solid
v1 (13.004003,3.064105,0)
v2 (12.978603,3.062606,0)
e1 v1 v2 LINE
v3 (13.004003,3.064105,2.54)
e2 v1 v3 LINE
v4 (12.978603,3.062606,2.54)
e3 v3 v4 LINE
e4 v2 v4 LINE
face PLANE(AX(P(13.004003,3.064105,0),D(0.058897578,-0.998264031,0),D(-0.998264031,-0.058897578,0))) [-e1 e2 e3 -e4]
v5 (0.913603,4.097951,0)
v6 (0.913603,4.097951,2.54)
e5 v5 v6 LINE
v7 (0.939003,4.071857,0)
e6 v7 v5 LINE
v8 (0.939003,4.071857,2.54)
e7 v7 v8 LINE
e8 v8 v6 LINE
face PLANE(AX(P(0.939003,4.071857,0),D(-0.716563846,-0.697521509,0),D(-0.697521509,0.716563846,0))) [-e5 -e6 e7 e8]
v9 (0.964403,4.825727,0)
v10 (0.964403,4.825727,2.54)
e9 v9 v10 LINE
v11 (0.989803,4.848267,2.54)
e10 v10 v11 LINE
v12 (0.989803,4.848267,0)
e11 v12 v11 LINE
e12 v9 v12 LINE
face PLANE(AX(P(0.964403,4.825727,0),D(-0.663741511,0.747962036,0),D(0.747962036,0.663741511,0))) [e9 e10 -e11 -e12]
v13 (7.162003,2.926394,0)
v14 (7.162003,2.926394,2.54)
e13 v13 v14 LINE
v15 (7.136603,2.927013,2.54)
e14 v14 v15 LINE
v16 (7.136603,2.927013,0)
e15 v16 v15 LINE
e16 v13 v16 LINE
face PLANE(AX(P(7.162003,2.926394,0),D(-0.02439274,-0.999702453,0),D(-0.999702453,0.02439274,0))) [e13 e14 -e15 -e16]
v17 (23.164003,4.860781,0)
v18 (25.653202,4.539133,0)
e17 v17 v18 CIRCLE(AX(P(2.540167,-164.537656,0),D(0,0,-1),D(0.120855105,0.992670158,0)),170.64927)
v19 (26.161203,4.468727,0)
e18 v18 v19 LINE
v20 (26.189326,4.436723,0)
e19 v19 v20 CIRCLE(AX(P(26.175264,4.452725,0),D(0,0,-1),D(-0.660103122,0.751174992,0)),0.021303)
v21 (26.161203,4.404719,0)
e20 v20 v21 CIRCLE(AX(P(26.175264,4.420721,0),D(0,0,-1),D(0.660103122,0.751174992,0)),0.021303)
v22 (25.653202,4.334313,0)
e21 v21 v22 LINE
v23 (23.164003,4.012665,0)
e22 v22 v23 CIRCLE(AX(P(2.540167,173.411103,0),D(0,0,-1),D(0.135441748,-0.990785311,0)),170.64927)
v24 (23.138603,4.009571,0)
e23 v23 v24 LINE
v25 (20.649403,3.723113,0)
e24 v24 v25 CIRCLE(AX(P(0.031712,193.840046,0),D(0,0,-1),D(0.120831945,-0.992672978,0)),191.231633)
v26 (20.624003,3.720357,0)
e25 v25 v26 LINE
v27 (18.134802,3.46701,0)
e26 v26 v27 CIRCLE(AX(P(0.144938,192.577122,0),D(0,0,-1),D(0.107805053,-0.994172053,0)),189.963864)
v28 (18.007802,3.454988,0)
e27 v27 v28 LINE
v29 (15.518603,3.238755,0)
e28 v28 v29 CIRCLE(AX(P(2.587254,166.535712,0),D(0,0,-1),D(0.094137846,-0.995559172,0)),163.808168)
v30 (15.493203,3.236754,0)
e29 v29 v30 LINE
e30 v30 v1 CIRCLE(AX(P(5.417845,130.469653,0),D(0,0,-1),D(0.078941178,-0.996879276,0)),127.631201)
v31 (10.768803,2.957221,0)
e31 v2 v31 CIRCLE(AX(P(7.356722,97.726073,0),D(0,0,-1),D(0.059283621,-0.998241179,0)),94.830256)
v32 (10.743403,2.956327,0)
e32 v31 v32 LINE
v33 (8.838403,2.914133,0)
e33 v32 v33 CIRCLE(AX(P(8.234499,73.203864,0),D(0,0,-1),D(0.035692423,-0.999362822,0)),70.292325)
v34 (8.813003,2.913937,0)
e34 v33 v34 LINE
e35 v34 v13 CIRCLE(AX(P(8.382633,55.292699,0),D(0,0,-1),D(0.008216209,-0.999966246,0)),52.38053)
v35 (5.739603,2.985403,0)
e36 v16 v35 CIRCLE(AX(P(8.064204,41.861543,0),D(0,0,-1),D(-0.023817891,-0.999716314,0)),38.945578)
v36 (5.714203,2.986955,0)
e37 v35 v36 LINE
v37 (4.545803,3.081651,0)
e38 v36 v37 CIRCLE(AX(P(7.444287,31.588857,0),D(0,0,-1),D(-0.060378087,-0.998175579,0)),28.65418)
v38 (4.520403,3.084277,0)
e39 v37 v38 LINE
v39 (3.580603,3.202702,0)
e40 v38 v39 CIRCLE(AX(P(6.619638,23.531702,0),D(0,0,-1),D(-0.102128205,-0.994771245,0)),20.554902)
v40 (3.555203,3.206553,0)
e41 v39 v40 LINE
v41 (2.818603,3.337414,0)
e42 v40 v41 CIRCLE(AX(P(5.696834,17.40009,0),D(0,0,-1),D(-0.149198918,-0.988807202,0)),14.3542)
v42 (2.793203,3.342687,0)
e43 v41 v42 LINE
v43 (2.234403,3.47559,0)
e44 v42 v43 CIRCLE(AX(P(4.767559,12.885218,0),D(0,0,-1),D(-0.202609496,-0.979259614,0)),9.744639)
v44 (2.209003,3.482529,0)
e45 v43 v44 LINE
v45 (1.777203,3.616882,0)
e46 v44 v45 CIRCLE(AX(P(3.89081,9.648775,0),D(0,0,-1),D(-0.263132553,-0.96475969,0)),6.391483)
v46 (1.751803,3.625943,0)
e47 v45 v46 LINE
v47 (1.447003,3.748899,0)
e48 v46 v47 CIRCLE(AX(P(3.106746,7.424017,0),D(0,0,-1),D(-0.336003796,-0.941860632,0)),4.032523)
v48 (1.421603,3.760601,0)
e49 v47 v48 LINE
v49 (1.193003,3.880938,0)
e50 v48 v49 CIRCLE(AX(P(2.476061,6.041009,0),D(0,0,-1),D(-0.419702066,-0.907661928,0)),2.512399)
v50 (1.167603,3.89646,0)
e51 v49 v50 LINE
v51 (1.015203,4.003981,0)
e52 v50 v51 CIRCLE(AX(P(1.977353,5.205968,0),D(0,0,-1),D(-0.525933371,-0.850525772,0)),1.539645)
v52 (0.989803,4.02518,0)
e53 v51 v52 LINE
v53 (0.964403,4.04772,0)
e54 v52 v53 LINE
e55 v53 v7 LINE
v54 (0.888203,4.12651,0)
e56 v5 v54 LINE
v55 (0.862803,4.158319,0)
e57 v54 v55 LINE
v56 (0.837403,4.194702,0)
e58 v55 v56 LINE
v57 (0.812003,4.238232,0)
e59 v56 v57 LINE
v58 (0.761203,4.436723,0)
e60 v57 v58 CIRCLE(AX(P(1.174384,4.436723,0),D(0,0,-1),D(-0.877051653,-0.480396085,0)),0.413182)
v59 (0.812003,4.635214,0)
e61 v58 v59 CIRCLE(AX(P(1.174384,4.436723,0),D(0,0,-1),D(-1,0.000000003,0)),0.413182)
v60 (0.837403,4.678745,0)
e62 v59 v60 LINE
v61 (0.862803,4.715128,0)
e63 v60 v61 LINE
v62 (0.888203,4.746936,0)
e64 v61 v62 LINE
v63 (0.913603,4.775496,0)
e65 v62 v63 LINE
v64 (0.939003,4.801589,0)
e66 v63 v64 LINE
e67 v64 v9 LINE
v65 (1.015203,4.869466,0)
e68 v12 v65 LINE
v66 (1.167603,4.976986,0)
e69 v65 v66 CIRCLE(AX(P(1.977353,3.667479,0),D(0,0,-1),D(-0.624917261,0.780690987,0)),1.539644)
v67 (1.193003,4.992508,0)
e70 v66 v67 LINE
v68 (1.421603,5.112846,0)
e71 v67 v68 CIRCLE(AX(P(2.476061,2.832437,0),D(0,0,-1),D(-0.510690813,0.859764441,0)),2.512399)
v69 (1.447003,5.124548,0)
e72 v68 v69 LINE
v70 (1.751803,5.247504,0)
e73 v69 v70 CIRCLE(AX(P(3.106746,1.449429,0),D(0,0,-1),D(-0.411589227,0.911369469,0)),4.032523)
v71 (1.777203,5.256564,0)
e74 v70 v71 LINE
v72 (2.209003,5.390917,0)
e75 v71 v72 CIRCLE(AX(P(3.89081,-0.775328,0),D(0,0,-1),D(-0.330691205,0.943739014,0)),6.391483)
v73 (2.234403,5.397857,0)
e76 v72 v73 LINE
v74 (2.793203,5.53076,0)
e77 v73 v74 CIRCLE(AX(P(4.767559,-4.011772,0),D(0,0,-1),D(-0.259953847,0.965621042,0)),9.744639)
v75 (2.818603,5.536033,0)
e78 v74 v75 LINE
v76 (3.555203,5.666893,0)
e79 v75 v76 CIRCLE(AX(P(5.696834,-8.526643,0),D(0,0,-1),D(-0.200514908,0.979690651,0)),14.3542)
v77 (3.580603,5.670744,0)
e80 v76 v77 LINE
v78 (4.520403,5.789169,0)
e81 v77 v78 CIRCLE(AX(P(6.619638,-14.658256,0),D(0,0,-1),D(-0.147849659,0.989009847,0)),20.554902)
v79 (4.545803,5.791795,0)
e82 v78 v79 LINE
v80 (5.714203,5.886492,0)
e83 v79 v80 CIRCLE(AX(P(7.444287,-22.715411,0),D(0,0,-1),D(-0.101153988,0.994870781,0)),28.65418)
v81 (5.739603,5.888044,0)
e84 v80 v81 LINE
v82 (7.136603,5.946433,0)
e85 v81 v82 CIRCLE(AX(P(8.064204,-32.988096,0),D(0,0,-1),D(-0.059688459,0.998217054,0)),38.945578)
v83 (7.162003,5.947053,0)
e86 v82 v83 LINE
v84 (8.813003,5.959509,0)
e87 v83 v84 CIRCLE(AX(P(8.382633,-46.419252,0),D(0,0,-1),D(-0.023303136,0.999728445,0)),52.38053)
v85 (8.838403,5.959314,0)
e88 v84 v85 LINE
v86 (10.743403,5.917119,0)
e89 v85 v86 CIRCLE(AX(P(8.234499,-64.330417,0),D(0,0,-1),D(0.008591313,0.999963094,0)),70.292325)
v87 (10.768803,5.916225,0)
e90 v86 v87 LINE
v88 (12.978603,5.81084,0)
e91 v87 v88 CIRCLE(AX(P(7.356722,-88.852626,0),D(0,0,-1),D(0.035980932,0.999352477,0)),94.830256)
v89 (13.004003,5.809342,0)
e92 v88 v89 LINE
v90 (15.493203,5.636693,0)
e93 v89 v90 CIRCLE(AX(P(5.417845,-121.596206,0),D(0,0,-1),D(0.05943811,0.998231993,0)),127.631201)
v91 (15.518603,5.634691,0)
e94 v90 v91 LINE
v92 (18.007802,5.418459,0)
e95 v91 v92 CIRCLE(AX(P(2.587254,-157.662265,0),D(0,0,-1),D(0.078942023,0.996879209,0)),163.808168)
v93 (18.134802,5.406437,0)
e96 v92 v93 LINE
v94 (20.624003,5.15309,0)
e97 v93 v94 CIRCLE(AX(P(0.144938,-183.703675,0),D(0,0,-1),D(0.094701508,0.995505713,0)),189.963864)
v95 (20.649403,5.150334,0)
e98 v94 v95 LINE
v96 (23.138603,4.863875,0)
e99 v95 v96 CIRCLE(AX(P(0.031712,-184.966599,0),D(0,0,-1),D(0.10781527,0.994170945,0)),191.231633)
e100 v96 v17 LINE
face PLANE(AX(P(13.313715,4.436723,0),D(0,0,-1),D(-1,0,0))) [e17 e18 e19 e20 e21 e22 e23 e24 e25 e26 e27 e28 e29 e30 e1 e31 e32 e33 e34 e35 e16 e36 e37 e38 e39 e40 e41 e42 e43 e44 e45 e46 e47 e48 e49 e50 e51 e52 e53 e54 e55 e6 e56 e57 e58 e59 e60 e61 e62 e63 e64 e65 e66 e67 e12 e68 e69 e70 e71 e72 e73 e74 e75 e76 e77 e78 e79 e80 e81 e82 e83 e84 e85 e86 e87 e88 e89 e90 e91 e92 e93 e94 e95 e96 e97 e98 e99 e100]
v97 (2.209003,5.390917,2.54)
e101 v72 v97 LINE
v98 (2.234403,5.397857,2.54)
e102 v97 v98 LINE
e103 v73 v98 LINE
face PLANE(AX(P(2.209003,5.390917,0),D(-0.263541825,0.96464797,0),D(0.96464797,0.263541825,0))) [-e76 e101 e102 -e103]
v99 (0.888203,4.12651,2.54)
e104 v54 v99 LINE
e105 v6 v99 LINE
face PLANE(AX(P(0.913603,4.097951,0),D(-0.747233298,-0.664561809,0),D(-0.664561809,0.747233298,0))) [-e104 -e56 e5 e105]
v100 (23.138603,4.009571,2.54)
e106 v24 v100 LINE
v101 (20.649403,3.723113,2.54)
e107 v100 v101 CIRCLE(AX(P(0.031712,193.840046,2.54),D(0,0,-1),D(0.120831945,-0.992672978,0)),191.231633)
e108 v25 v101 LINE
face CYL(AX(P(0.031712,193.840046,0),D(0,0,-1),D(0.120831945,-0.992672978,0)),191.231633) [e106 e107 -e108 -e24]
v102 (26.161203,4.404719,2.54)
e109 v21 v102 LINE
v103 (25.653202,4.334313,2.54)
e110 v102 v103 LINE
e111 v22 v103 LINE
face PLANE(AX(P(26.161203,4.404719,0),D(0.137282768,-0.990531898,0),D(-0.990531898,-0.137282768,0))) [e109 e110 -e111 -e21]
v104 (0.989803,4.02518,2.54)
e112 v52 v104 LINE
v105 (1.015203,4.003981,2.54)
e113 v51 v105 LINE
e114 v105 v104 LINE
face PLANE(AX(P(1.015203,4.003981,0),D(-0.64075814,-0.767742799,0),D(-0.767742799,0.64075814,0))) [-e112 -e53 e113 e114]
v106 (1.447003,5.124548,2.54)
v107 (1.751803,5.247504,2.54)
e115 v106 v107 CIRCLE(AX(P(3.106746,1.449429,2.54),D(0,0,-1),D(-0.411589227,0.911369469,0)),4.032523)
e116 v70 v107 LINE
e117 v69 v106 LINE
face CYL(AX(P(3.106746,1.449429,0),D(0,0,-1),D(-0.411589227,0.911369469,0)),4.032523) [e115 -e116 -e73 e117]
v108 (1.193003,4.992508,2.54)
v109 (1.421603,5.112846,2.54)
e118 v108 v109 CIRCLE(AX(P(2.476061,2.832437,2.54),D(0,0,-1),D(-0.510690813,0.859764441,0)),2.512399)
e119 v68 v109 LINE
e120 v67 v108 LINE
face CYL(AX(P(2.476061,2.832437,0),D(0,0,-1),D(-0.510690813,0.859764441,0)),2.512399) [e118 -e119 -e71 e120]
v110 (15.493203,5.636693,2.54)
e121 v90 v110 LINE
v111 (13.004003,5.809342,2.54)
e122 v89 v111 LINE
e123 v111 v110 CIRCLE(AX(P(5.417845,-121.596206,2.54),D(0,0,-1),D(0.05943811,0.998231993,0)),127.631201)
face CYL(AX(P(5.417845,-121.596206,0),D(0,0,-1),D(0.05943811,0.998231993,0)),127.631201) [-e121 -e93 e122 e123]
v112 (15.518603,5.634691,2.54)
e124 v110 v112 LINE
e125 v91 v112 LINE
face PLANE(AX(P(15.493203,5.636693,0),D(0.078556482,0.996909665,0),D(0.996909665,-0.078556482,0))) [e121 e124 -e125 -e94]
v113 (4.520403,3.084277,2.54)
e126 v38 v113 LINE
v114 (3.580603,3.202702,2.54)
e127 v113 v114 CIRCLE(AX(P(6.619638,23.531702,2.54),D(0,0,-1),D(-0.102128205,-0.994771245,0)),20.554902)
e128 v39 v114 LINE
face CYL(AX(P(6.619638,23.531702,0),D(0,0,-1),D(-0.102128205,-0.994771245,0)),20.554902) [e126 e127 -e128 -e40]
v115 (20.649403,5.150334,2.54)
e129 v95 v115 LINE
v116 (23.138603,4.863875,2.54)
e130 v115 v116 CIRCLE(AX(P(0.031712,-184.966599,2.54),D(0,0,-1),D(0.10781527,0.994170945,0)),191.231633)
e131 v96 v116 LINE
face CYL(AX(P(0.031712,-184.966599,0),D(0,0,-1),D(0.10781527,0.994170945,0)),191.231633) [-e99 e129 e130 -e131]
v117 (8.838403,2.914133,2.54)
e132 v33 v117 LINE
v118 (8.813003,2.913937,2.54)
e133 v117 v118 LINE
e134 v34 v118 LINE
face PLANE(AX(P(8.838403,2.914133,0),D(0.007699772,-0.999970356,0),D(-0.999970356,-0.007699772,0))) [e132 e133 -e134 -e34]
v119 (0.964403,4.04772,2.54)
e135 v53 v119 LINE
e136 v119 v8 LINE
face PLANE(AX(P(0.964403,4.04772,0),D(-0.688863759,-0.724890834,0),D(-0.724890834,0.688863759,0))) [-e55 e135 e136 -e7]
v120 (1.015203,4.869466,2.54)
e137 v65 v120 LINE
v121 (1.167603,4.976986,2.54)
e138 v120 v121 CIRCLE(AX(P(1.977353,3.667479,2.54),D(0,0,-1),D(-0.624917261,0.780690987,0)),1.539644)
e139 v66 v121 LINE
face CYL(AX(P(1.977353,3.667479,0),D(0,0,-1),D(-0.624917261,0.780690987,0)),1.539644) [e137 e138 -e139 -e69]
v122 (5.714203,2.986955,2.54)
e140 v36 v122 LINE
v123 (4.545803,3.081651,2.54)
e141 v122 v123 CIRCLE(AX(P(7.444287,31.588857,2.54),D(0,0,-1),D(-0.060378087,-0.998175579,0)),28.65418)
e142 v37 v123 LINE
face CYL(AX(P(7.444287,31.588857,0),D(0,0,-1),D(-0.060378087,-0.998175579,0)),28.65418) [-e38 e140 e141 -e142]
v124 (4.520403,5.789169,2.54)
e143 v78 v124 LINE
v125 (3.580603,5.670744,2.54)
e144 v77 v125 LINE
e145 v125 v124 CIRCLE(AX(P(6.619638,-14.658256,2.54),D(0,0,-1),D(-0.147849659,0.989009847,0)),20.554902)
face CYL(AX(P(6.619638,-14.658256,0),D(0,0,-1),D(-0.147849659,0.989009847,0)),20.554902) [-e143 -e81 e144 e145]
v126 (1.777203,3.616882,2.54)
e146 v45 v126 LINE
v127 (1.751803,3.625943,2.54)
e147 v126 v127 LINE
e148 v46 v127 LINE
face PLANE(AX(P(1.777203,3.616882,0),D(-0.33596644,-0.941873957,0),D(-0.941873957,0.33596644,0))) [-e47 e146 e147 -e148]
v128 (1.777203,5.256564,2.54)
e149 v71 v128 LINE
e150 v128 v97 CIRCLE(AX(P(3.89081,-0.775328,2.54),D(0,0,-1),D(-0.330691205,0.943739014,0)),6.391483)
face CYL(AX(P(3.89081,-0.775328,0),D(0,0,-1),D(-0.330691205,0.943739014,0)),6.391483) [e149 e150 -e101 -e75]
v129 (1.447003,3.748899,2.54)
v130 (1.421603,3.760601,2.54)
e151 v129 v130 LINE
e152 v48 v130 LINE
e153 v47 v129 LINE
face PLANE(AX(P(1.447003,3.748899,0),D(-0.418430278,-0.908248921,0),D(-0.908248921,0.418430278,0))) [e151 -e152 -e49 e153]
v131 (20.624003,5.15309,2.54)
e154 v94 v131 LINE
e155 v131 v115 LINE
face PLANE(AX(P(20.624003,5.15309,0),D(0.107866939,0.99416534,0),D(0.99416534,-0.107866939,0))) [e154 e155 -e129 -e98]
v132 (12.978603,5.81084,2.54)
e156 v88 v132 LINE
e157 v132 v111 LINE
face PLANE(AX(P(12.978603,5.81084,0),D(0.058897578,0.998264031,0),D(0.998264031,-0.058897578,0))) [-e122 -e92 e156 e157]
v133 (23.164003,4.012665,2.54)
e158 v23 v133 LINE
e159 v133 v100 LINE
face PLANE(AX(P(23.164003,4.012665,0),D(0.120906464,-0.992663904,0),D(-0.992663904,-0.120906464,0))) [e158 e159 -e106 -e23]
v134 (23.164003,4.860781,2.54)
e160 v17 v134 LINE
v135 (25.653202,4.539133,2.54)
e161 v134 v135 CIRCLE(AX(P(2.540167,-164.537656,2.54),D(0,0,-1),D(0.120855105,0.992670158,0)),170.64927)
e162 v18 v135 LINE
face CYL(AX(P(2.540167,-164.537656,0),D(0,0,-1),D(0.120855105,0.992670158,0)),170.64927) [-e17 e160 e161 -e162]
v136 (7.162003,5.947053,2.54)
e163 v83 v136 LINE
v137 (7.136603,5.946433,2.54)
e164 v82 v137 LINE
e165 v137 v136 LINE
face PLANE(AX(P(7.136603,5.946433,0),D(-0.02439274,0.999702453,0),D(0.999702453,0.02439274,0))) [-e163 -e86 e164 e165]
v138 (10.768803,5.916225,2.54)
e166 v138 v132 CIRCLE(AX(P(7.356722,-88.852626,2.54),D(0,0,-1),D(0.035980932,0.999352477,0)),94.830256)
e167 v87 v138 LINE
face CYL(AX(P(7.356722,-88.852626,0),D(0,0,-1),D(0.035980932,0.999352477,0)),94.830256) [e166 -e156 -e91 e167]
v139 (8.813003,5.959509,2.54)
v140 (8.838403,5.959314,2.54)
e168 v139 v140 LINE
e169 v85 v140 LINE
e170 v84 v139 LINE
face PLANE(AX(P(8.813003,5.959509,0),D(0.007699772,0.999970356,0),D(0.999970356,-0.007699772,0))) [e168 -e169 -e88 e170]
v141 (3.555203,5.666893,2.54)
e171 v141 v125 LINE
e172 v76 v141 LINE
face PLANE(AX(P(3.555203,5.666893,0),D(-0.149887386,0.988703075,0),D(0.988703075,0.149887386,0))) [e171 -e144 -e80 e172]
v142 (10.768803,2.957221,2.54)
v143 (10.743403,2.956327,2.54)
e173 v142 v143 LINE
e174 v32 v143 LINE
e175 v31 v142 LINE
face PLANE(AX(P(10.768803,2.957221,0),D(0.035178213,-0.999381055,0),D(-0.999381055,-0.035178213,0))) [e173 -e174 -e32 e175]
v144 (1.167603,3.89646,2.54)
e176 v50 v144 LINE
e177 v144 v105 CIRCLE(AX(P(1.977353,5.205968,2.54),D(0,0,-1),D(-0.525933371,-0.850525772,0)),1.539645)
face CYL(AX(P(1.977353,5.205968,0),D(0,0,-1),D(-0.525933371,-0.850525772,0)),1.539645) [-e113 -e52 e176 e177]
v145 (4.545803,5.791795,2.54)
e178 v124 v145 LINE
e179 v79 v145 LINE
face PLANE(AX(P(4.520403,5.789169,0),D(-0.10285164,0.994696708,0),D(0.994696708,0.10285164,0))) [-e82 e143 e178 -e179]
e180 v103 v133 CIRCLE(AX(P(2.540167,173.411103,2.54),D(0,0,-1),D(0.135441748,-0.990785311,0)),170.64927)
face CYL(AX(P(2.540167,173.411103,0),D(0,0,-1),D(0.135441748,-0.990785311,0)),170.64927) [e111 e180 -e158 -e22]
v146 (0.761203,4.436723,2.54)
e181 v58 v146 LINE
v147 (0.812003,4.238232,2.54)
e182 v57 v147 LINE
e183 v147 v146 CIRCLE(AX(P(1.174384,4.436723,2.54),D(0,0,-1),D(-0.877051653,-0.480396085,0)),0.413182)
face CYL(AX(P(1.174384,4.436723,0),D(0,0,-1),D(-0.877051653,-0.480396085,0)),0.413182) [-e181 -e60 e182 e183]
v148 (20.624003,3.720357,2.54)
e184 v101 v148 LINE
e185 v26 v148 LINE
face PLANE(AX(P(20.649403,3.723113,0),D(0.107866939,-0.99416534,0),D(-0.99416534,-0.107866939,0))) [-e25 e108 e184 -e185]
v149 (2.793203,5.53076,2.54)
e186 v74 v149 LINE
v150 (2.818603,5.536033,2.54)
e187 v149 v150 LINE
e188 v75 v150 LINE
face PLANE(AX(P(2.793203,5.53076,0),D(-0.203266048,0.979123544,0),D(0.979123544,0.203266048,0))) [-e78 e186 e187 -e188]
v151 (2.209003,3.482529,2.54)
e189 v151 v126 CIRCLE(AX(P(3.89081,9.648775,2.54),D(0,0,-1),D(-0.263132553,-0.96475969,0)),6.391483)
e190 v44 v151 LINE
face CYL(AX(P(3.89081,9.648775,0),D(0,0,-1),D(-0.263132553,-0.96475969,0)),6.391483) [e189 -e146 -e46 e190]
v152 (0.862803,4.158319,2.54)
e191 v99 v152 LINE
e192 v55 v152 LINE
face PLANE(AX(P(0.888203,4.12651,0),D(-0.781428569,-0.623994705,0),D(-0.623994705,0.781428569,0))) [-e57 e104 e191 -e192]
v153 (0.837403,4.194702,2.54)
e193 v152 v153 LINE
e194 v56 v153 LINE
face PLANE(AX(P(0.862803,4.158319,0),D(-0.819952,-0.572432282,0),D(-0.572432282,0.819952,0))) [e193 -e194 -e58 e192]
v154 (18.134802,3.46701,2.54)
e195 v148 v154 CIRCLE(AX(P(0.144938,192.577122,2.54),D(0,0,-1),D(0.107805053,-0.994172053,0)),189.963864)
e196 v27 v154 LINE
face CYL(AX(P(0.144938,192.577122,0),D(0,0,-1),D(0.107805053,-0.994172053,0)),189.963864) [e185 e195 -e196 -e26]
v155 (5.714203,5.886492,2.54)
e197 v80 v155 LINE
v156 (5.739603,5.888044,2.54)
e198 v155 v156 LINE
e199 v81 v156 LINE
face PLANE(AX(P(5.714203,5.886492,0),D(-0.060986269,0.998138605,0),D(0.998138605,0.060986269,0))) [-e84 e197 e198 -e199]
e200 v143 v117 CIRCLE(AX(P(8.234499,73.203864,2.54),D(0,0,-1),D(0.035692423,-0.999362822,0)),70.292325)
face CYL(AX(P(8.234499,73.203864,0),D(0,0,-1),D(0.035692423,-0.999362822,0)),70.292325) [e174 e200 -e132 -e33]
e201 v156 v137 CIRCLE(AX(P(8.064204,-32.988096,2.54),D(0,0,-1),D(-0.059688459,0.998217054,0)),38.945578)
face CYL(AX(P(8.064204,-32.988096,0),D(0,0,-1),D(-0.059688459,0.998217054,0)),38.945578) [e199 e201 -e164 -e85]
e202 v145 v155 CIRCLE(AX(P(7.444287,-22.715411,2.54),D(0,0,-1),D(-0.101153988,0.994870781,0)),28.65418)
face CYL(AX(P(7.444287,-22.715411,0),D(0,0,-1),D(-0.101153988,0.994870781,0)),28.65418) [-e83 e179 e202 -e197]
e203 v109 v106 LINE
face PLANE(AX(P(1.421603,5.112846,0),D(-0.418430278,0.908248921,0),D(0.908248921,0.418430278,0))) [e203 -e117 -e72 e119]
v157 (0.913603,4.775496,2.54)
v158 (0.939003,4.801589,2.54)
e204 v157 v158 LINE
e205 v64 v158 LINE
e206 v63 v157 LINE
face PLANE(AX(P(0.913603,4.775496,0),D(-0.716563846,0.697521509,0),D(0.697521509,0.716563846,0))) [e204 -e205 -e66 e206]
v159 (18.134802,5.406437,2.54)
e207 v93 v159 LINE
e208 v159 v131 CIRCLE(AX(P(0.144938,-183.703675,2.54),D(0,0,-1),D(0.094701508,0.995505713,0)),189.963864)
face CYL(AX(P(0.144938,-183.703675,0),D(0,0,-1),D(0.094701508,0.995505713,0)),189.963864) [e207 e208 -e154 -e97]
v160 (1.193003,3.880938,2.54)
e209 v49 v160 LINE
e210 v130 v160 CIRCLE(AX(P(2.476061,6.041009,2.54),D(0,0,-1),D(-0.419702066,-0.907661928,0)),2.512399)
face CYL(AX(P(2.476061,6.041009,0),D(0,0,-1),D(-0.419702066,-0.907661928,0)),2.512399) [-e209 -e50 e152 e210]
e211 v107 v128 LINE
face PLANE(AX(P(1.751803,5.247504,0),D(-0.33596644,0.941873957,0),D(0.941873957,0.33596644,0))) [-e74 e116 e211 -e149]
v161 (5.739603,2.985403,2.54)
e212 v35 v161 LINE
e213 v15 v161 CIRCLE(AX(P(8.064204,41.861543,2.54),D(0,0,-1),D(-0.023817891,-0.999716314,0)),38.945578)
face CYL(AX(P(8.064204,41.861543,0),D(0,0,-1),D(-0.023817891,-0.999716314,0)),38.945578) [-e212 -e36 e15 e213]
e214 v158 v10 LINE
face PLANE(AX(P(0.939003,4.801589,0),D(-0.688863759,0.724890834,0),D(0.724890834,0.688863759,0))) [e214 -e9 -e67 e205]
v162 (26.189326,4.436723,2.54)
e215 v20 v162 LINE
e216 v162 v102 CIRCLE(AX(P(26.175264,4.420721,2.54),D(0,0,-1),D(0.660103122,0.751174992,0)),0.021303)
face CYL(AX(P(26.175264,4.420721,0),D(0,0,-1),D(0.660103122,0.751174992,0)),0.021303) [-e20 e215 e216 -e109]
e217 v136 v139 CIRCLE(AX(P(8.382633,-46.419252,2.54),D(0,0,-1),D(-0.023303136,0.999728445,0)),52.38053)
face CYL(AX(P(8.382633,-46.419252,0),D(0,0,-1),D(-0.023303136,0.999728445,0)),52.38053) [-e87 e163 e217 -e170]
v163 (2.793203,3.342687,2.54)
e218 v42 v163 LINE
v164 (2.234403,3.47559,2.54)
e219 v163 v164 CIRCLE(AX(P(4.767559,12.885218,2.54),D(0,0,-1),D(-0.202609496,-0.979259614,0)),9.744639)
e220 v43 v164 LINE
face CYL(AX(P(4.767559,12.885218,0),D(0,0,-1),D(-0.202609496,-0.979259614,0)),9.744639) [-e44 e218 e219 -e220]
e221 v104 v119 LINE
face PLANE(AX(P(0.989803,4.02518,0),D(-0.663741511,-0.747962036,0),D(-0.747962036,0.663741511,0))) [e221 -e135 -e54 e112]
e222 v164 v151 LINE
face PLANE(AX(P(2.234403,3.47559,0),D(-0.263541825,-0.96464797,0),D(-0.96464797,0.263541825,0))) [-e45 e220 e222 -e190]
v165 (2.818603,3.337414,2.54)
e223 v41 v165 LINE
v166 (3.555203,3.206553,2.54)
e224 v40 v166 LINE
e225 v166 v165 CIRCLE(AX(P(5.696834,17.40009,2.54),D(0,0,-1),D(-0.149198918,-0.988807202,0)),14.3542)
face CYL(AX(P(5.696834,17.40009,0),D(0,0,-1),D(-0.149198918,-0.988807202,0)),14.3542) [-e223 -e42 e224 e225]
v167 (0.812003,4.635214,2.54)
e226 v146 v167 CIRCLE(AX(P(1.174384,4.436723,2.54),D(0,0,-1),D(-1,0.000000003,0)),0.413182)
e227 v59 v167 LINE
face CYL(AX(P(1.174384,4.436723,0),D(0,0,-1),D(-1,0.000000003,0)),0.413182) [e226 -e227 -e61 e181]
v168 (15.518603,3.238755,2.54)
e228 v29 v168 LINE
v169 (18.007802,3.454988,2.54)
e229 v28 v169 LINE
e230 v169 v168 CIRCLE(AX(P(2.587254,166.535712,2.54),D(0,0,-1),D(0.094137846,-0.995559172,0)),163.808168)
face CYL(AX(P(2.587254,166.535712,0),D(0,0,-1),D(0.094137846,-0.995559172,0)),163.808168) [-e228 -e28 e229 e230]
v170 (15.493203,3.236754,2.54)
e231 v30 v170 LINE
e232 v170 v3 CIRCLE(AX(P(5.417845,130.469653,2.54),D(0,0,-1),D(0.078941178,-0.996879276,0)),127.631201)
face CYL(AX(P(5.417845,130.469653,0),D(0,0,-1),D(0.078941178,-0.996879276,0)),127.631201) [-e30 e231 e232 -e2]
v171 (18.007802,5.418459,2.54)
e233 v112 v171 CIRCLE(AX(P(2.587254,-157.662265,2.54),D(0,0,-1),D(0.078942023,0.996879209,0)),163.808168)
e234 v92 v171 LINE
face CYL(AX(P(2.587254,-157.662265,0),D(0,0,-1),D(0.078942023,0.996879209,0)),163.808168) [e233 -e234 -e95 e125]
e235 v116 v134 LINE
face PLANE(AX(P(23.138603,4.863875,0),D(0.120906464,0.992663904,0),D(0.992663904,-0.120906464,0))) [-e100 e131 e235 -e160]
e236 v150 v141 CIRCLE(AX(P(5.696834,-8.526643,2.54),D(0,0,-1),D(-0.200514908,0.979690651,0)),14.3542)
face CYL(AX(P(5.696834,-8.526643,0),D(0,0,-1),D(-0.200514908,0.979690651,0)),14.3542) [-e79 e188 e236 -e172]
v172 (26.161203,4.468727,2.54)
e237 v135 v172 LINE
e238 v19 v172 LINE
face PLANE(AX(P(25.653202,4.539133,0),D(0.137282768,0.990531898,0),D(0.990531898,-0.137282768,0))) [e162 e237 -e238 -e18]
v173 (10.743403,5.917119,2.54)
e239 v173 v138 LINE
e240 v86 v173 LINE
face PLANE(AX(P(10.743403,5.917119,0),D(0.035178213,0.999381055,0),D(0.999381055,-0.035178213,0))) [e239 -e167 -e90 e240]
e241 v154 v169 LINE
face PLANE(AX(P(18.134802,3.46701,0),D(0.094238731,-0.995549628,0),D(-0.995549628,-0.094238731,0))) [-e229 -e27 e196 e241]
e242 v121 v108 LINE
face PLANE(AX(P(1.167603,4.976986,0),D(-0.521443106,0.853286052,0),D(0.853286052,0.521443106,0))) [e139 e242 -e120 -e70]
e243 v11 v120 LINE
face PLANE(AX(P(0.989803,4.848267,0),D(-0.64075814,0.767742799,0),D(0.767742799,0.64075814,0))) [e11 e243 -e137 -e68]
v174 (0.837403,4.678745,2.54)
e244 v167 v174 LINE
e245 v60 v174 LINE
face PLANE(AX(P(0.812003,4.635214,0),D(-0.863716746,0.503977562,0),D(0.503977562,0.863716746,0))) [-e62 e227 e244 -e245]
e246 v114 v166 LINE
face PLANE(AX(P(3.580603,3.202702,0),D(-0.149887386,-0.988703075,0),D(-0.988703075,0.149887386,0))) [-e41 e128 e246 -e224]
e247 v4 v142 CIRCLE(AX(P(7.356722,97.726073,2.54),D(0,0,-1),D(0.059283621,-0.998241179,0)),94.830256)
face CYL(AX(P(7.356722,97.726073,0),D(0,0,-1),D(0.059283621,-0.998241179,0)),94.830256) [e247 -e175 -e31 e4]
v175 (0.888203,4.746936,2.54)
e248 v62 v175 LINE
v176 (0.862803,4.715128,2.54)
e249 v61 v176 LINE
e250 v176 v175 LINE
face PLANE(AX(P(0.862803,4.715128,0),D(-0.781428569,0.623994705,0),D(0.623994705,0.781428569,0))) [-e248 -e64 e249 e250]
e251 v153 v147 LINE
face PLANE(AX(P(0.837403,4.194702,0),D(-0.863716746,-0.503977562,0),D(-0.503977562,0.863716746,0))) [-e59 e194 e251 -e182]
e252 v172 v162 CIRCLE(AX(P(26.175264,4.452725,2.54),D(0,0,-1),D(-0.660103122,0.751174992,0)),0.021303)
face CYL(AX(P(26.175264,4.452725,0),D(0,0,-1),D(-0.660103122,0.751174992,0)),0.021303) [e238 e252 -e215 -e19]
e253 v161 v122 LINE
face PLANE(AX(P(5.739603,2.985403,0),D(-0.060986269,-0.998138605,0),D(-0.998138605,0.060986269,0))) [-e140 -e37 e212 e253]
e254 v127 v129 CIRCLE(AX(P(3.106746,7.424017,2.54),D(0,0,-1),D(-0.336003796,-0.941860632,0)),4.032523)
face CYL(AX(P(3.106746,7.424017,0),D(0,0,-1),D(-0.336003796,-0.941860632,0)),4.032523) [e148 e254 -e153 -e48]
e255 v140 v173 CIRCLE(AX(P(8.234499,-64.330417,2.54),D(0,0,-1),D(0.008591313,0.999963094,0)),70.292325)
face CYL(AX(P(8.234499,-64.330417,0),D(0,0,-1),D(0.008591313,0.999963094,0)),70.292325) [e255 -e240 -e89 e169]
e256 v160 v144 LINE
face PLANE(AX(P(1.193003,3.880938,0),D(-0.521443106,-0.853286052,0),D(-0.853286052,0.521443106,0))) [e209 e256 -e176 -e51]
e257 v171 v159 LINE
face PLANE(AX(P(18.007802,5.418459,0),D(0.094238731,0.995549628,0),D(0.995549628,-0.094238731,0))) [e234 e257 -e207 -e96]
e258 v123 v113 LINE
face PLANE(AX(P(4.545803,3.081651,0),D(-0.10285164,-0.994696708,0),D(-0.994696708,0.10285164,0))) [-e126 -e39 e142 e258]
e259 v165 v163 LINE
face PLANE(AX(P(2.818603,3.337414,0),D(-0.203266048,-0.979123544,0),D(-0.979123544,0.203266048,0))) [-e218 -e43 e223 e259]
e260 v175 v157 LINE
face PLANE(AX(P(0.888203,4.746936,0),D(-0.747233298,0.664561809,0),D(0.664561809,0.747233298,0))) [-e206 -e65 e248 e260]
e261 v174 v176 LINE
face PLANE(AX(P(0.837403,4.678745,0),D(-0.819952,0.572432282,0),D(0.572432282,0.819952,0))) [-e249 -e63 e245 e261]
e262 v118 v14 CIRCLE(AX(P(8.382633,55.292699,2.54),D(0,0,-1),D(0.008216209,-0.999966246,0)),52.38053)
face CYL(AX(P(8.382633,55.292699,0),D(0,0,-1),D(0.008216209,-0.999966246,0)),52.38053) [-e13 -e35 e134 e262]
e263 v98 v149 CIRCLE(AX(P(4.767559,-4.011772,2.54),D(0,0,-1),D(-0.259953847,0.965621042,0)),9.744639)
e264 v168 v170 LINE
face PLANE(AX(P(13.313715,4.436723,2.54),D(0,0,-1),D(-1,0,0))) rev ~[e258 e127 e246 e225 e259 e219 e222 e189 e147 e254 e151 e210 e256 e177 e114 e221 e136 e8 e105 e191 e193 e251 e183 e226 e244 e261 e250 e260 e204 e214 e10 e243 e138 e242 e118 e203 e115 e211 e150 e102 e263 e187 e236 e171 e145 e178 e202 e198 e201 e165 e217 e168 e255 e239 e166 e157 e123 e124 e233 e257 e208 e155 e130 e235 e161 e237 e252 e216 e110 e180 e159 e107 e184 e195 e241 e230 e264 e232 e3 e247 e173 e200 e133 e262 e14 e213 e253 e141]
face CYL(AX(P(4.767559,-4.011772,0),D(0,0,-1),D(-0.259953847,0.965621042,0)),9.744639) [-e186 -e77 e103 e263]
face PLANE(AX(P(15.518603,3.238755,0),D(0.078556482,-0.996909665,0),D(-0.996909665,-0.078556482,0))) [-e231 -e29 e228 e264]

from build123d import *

# Parameters (mm, degrees)
BOSS_EXTRUDE1_DEPTH = 2.54


with BuildPart() as part:
    # Model → Boss-Extrude1 (new body)
    with BuildSketch(Plane.XY):
        with BuildLine():
            Line((0.837402515, 4.194701871), (0.812002515, 4.238232391))
            ThreePointArc((0.812002515, 4.238232391), (0.774103936, 4.334279035), (0.761202515, 4.436723231))
            ThreePointArc((0.761202515, 4.436723231), (0.774103936, 4.539167428), (0.812002515, 4.635214071))
            Line((0.812002515, 4.635214071), (0.837402515, 4.678744591))
            Line((0.837402515, 4.678744591), (0.862802515, 4.715127551))
            Line((0.862802515, 4.715127551), (0.888202515, 4.746935971))
            Line((0.888202515, 4.746935971), (0.913602515, 4.775495731))
            Line((0.913602515, 4.775495731), (0.939002515, 4.801589151))
            Line((0.939002515, 4.801589151), (0.964402515, 4.825726771))
            Line((0.964402515, 4.825726771), (0.989802515, 4.848266731))
            Line((0.989802515, 4.848266731), (1.015202515, 4.869465571))
            ThreePointArc((1.015202515, 4.869465571), (1.089772897, 4.925535764), (1.167602515, 4.976986311))
            Line((1.167602515, 4.976986311), (1.193002515, 4.992508251))
            ThreePointArc((1.193002515, 4.992508251), (1.305754767, 5.055617229), (1.421602515, 5.112845831))
            Line((1.421602515, 5.112845831), (1.447002515, 5.124547611))
            ThreePointArc((1.447002515, 5.124547611), (1.598149319, 5.189132356), (1.751802515, 5.247503931))
            Line((1.751802515, 5.247503931), (1.777202515, 5.256564111))
            ThreePointArc((1.777202515, 5.256564111), (1.991913899, 5.32756087), (2.209002515, 5.390917411))
            Line((2.209002515, 5.390917411), (2.234402515, 5.397856691))
            ThreePointArc((2.234402515, 5.397856691), (2.512823075, 5.468426298), (2.793202515, 5.530759651))
            Line((2.793202515, 5.530759651), (2.818602515, 5.536032691))
            ThreePointArc((2.818602515, 5.536032691), (3.18604982, 5.606262809), (3.555202515, 5.666893491))
            Line((3.555202515, 5.666893491), (3.580602515, 5.670744131))
            ThreePointArc((3.580602515, 5.670744131), (4.049820252, 5.735370933), (4.520402515, 5.789169091))
            Line((4.520402515, 5.789169091), (4.545802515, 5.791795451))
            ThreePointArc((4.545802515, 5.791795451), (5.129518216, 5.845119064), (5.714202515, 5.886491731))
            Line((5.714202515, 5.886491731), (5.739602515, 5.888043671))
            ThreePointArc((5.739602515, 5.888043671), (6.437840457, 5.923508303), (7.136602515, 5.946433191))
            Line((7.136602515, 5.946433191), (7.162002515, 5.947052951))
            ThreePointArc((7.162002515, 5.947052951), (7.987453434, 5.959786425), (8.813002515, 5.959509111))
            Line((8.813002515, 5.959509111), (8.838402515, 5.959313531))
            ThreePointArc((8.838402515, 5.959313531), (9.791045496, 5.944671622), (10.743402515, 5.917119051))
            Line((10.743402515, 5.917119051), (10.768802515, 5.916224971))
            ThreePointArc((10.768802515, 5.916224971), (11.874009843, 5.869976991), (12.978602515, 5.810840371))
            Line((12.978602515, 5.810840371), (13.004002515, 5.809341771))
            ThreePointArc((13.004002515, 5.809341771), (14.249024434, 5.729100435), (15.493202515, 5.636692891))
            Line((15.493202515, 5.636692891), (15.518602515, 5.634691371))
            ThreePointArc((15.518602515, 5.634691371), (16.763614783, 5.531321058), (18.007802486, 5.418458634))
            Line((18.007802486, 5.418458634), (18.134802481, 5.406436814))
            ThreePointArc((18.134802481, 5.406436814), (19.379819615, 5.283861478), (20.624002515, 5.153089591))
            Line((20.624002515, 5.153089591), (20.649402515, 5.150333691))
            ThreePointArc((20.649402515, 5.150333691), (21.894471689, 5.011181274), (23.138602515, 4.863875031))
            Line((23.138602515, 4.863875031), (23.164002515, 4.860781311))
            ThreePointArc((23.164002515, 4.860781311), (24.409193854, 4.704533833), (25.653202485, 4.539133495))
            Line((25.653202485, 4.539133495), (26.161202515, 4.468727231))
            ThreePointArc((26.161202515, 4.468727231), (26.191266445, 4.466787161), (26.189326375, 4.436723231))
            ThreePointArc((26.189326375, 4.436723231), (26.191266445, 4.406659301), (26.161202515, 4.404719231))
            Line((26.161202515, 4.404719231), (25.653202485, 4.334312967))
            ThreePointArc((25.653202485, 4.334312967), (24.409193854, 4.168912629), (23.164002515, 4.012665151))
            Line((23.164002515, 4.012665151), (23.138602515, 4.009571431))
            ThreePointArc((23.138602515, 4.009571431), (21.894471689, 3.862265188), (20.649402515, 3.723112771))
            Line((20.649402515, 3.723112771), (20.624002515, 3.720356871))
            ThreePointArc((20.624002515, 3.720356871), (19.379819615, 3.589584984), (18.134802481, 3.467009648))
            Line((18.134802481, 3.467009648), (18.007802486, 3.454987828))
            ThreePointArc((18.007802486, 3.454987828), (16.763614783, 3.342125404), (15.518602515, 3.238755091))
            Line((15.518602515, 3.238755091), (15.493202515, 3.236753571))
            ThreePointArc((15.493202515, 3.236753571), (14.249024434, 3.144346027), (13.004002515, 3.064104691))
            Line((13.004002515, 3.064104691), (12.978602515, 3.062606091))
            ThreePointArc((12.978602515, 3.062606091), (11.874009843, 3.003469471), (10.768802515, 2.957221491))
            Line((10.768802515, 2.957221491), (10.743402515, 2.956327411))
            ThreePointArc((10.743402515, 2.956327411), (9.791045496, 2.92877484), (8.838402515, 2.914132931))
            Line((8.838402515, 2.914132931), (8.813002515, 2.913937351))
            ThreePointArc((8.813002515, 2.913937351), (7.987453434, 2.913660037), (7.162002515, 2.926393511))
            Line((7.162002515, 2.926393511), (7.136602515, 2.927013271))
            ThreePointArc((7.136602515, 2.927013271), (6.437840457, 2.949938159), (5.739602515, 2.985402791))
            Line((5.739602515, 2.985402791), (5.714202515, 2.986954731))
            ThreePointArc((5.714202515, 2.986954731), (5.129518216, 3.028327398), (4.545802515, 3.081651011))
            Line((4.545802515, 3.081651011), (4.520402515, 3.084277371))
            ThreePointArc((4.520402515, 3.084277371), (4.049820252, 3.138075529), (3.580602515, 3.202702331))
            Line((3.580602515, 3.202702331), (3.555202515, 3.206552971))
            ThreePointArc((3.555202515, 3.206552971), (3.18604982, 3.267183653), (2.818602515, 3.337413771))
            Line((2.818602515, 3.337413771), (2.793202515, 3.342686811))
            ThreePointArc((2.793202515, 3.342686811), (2.512823075, 3.405020164), (2.234402515, 3.475589771))
            Line((2.234402515, 3.475589771), (2.209002515, 3.482529051))
            ThreePointArc((2.209002515, 3.482529051), (1.991913899, 3.545885592), (1.777202515, 3.616882351))
            Line((1.777202515, 3.616882351), (1.751802515, 3.625942531))
            ThreePointArc((1.751802515, 3.625942531), (1.598149319, 3.684314106), (1.447002515, 3.748898851))
            Line((1.447002515, 3.748898851), (1.421602515, 3.760600631))
            ThreePointArc((1.421602515, 3.760600631), (1.305754767, 3.817829233), (1.193002515, 3.880938211))
            Line((1.193002515, 3.880938211), (1.167602515, 3.896460151))
            ThreePointArc((1.167602515, 3.896460151), (1.089772897, 3.947910699), (1.015202515, 4.003980891))
            Line((1.015202515, 4.003980891), (0.989802515, 4.025179731))
            Line((0.989802515, 4.025179731), (0.964402515, 4.047719691))
            Line((0.964402515, 4.047719691), (0.939002515, 4.071857311))
            Line((0.939002515, 4.071857311), (0.913602515, 4.097950731))
            Line((0.913602515, 4.097950731), (0.888202515, 4.126510491))
            Line((0.888202515, 4.126510491), (0.862802515, 4.158318911))
            Line((0.862802515, 4.158318911), (0.837402515, 4.194701871))
        make_face()
    extrude(amount=BOSS_EXTRUDE1_DEPTH)


solid = part.part
